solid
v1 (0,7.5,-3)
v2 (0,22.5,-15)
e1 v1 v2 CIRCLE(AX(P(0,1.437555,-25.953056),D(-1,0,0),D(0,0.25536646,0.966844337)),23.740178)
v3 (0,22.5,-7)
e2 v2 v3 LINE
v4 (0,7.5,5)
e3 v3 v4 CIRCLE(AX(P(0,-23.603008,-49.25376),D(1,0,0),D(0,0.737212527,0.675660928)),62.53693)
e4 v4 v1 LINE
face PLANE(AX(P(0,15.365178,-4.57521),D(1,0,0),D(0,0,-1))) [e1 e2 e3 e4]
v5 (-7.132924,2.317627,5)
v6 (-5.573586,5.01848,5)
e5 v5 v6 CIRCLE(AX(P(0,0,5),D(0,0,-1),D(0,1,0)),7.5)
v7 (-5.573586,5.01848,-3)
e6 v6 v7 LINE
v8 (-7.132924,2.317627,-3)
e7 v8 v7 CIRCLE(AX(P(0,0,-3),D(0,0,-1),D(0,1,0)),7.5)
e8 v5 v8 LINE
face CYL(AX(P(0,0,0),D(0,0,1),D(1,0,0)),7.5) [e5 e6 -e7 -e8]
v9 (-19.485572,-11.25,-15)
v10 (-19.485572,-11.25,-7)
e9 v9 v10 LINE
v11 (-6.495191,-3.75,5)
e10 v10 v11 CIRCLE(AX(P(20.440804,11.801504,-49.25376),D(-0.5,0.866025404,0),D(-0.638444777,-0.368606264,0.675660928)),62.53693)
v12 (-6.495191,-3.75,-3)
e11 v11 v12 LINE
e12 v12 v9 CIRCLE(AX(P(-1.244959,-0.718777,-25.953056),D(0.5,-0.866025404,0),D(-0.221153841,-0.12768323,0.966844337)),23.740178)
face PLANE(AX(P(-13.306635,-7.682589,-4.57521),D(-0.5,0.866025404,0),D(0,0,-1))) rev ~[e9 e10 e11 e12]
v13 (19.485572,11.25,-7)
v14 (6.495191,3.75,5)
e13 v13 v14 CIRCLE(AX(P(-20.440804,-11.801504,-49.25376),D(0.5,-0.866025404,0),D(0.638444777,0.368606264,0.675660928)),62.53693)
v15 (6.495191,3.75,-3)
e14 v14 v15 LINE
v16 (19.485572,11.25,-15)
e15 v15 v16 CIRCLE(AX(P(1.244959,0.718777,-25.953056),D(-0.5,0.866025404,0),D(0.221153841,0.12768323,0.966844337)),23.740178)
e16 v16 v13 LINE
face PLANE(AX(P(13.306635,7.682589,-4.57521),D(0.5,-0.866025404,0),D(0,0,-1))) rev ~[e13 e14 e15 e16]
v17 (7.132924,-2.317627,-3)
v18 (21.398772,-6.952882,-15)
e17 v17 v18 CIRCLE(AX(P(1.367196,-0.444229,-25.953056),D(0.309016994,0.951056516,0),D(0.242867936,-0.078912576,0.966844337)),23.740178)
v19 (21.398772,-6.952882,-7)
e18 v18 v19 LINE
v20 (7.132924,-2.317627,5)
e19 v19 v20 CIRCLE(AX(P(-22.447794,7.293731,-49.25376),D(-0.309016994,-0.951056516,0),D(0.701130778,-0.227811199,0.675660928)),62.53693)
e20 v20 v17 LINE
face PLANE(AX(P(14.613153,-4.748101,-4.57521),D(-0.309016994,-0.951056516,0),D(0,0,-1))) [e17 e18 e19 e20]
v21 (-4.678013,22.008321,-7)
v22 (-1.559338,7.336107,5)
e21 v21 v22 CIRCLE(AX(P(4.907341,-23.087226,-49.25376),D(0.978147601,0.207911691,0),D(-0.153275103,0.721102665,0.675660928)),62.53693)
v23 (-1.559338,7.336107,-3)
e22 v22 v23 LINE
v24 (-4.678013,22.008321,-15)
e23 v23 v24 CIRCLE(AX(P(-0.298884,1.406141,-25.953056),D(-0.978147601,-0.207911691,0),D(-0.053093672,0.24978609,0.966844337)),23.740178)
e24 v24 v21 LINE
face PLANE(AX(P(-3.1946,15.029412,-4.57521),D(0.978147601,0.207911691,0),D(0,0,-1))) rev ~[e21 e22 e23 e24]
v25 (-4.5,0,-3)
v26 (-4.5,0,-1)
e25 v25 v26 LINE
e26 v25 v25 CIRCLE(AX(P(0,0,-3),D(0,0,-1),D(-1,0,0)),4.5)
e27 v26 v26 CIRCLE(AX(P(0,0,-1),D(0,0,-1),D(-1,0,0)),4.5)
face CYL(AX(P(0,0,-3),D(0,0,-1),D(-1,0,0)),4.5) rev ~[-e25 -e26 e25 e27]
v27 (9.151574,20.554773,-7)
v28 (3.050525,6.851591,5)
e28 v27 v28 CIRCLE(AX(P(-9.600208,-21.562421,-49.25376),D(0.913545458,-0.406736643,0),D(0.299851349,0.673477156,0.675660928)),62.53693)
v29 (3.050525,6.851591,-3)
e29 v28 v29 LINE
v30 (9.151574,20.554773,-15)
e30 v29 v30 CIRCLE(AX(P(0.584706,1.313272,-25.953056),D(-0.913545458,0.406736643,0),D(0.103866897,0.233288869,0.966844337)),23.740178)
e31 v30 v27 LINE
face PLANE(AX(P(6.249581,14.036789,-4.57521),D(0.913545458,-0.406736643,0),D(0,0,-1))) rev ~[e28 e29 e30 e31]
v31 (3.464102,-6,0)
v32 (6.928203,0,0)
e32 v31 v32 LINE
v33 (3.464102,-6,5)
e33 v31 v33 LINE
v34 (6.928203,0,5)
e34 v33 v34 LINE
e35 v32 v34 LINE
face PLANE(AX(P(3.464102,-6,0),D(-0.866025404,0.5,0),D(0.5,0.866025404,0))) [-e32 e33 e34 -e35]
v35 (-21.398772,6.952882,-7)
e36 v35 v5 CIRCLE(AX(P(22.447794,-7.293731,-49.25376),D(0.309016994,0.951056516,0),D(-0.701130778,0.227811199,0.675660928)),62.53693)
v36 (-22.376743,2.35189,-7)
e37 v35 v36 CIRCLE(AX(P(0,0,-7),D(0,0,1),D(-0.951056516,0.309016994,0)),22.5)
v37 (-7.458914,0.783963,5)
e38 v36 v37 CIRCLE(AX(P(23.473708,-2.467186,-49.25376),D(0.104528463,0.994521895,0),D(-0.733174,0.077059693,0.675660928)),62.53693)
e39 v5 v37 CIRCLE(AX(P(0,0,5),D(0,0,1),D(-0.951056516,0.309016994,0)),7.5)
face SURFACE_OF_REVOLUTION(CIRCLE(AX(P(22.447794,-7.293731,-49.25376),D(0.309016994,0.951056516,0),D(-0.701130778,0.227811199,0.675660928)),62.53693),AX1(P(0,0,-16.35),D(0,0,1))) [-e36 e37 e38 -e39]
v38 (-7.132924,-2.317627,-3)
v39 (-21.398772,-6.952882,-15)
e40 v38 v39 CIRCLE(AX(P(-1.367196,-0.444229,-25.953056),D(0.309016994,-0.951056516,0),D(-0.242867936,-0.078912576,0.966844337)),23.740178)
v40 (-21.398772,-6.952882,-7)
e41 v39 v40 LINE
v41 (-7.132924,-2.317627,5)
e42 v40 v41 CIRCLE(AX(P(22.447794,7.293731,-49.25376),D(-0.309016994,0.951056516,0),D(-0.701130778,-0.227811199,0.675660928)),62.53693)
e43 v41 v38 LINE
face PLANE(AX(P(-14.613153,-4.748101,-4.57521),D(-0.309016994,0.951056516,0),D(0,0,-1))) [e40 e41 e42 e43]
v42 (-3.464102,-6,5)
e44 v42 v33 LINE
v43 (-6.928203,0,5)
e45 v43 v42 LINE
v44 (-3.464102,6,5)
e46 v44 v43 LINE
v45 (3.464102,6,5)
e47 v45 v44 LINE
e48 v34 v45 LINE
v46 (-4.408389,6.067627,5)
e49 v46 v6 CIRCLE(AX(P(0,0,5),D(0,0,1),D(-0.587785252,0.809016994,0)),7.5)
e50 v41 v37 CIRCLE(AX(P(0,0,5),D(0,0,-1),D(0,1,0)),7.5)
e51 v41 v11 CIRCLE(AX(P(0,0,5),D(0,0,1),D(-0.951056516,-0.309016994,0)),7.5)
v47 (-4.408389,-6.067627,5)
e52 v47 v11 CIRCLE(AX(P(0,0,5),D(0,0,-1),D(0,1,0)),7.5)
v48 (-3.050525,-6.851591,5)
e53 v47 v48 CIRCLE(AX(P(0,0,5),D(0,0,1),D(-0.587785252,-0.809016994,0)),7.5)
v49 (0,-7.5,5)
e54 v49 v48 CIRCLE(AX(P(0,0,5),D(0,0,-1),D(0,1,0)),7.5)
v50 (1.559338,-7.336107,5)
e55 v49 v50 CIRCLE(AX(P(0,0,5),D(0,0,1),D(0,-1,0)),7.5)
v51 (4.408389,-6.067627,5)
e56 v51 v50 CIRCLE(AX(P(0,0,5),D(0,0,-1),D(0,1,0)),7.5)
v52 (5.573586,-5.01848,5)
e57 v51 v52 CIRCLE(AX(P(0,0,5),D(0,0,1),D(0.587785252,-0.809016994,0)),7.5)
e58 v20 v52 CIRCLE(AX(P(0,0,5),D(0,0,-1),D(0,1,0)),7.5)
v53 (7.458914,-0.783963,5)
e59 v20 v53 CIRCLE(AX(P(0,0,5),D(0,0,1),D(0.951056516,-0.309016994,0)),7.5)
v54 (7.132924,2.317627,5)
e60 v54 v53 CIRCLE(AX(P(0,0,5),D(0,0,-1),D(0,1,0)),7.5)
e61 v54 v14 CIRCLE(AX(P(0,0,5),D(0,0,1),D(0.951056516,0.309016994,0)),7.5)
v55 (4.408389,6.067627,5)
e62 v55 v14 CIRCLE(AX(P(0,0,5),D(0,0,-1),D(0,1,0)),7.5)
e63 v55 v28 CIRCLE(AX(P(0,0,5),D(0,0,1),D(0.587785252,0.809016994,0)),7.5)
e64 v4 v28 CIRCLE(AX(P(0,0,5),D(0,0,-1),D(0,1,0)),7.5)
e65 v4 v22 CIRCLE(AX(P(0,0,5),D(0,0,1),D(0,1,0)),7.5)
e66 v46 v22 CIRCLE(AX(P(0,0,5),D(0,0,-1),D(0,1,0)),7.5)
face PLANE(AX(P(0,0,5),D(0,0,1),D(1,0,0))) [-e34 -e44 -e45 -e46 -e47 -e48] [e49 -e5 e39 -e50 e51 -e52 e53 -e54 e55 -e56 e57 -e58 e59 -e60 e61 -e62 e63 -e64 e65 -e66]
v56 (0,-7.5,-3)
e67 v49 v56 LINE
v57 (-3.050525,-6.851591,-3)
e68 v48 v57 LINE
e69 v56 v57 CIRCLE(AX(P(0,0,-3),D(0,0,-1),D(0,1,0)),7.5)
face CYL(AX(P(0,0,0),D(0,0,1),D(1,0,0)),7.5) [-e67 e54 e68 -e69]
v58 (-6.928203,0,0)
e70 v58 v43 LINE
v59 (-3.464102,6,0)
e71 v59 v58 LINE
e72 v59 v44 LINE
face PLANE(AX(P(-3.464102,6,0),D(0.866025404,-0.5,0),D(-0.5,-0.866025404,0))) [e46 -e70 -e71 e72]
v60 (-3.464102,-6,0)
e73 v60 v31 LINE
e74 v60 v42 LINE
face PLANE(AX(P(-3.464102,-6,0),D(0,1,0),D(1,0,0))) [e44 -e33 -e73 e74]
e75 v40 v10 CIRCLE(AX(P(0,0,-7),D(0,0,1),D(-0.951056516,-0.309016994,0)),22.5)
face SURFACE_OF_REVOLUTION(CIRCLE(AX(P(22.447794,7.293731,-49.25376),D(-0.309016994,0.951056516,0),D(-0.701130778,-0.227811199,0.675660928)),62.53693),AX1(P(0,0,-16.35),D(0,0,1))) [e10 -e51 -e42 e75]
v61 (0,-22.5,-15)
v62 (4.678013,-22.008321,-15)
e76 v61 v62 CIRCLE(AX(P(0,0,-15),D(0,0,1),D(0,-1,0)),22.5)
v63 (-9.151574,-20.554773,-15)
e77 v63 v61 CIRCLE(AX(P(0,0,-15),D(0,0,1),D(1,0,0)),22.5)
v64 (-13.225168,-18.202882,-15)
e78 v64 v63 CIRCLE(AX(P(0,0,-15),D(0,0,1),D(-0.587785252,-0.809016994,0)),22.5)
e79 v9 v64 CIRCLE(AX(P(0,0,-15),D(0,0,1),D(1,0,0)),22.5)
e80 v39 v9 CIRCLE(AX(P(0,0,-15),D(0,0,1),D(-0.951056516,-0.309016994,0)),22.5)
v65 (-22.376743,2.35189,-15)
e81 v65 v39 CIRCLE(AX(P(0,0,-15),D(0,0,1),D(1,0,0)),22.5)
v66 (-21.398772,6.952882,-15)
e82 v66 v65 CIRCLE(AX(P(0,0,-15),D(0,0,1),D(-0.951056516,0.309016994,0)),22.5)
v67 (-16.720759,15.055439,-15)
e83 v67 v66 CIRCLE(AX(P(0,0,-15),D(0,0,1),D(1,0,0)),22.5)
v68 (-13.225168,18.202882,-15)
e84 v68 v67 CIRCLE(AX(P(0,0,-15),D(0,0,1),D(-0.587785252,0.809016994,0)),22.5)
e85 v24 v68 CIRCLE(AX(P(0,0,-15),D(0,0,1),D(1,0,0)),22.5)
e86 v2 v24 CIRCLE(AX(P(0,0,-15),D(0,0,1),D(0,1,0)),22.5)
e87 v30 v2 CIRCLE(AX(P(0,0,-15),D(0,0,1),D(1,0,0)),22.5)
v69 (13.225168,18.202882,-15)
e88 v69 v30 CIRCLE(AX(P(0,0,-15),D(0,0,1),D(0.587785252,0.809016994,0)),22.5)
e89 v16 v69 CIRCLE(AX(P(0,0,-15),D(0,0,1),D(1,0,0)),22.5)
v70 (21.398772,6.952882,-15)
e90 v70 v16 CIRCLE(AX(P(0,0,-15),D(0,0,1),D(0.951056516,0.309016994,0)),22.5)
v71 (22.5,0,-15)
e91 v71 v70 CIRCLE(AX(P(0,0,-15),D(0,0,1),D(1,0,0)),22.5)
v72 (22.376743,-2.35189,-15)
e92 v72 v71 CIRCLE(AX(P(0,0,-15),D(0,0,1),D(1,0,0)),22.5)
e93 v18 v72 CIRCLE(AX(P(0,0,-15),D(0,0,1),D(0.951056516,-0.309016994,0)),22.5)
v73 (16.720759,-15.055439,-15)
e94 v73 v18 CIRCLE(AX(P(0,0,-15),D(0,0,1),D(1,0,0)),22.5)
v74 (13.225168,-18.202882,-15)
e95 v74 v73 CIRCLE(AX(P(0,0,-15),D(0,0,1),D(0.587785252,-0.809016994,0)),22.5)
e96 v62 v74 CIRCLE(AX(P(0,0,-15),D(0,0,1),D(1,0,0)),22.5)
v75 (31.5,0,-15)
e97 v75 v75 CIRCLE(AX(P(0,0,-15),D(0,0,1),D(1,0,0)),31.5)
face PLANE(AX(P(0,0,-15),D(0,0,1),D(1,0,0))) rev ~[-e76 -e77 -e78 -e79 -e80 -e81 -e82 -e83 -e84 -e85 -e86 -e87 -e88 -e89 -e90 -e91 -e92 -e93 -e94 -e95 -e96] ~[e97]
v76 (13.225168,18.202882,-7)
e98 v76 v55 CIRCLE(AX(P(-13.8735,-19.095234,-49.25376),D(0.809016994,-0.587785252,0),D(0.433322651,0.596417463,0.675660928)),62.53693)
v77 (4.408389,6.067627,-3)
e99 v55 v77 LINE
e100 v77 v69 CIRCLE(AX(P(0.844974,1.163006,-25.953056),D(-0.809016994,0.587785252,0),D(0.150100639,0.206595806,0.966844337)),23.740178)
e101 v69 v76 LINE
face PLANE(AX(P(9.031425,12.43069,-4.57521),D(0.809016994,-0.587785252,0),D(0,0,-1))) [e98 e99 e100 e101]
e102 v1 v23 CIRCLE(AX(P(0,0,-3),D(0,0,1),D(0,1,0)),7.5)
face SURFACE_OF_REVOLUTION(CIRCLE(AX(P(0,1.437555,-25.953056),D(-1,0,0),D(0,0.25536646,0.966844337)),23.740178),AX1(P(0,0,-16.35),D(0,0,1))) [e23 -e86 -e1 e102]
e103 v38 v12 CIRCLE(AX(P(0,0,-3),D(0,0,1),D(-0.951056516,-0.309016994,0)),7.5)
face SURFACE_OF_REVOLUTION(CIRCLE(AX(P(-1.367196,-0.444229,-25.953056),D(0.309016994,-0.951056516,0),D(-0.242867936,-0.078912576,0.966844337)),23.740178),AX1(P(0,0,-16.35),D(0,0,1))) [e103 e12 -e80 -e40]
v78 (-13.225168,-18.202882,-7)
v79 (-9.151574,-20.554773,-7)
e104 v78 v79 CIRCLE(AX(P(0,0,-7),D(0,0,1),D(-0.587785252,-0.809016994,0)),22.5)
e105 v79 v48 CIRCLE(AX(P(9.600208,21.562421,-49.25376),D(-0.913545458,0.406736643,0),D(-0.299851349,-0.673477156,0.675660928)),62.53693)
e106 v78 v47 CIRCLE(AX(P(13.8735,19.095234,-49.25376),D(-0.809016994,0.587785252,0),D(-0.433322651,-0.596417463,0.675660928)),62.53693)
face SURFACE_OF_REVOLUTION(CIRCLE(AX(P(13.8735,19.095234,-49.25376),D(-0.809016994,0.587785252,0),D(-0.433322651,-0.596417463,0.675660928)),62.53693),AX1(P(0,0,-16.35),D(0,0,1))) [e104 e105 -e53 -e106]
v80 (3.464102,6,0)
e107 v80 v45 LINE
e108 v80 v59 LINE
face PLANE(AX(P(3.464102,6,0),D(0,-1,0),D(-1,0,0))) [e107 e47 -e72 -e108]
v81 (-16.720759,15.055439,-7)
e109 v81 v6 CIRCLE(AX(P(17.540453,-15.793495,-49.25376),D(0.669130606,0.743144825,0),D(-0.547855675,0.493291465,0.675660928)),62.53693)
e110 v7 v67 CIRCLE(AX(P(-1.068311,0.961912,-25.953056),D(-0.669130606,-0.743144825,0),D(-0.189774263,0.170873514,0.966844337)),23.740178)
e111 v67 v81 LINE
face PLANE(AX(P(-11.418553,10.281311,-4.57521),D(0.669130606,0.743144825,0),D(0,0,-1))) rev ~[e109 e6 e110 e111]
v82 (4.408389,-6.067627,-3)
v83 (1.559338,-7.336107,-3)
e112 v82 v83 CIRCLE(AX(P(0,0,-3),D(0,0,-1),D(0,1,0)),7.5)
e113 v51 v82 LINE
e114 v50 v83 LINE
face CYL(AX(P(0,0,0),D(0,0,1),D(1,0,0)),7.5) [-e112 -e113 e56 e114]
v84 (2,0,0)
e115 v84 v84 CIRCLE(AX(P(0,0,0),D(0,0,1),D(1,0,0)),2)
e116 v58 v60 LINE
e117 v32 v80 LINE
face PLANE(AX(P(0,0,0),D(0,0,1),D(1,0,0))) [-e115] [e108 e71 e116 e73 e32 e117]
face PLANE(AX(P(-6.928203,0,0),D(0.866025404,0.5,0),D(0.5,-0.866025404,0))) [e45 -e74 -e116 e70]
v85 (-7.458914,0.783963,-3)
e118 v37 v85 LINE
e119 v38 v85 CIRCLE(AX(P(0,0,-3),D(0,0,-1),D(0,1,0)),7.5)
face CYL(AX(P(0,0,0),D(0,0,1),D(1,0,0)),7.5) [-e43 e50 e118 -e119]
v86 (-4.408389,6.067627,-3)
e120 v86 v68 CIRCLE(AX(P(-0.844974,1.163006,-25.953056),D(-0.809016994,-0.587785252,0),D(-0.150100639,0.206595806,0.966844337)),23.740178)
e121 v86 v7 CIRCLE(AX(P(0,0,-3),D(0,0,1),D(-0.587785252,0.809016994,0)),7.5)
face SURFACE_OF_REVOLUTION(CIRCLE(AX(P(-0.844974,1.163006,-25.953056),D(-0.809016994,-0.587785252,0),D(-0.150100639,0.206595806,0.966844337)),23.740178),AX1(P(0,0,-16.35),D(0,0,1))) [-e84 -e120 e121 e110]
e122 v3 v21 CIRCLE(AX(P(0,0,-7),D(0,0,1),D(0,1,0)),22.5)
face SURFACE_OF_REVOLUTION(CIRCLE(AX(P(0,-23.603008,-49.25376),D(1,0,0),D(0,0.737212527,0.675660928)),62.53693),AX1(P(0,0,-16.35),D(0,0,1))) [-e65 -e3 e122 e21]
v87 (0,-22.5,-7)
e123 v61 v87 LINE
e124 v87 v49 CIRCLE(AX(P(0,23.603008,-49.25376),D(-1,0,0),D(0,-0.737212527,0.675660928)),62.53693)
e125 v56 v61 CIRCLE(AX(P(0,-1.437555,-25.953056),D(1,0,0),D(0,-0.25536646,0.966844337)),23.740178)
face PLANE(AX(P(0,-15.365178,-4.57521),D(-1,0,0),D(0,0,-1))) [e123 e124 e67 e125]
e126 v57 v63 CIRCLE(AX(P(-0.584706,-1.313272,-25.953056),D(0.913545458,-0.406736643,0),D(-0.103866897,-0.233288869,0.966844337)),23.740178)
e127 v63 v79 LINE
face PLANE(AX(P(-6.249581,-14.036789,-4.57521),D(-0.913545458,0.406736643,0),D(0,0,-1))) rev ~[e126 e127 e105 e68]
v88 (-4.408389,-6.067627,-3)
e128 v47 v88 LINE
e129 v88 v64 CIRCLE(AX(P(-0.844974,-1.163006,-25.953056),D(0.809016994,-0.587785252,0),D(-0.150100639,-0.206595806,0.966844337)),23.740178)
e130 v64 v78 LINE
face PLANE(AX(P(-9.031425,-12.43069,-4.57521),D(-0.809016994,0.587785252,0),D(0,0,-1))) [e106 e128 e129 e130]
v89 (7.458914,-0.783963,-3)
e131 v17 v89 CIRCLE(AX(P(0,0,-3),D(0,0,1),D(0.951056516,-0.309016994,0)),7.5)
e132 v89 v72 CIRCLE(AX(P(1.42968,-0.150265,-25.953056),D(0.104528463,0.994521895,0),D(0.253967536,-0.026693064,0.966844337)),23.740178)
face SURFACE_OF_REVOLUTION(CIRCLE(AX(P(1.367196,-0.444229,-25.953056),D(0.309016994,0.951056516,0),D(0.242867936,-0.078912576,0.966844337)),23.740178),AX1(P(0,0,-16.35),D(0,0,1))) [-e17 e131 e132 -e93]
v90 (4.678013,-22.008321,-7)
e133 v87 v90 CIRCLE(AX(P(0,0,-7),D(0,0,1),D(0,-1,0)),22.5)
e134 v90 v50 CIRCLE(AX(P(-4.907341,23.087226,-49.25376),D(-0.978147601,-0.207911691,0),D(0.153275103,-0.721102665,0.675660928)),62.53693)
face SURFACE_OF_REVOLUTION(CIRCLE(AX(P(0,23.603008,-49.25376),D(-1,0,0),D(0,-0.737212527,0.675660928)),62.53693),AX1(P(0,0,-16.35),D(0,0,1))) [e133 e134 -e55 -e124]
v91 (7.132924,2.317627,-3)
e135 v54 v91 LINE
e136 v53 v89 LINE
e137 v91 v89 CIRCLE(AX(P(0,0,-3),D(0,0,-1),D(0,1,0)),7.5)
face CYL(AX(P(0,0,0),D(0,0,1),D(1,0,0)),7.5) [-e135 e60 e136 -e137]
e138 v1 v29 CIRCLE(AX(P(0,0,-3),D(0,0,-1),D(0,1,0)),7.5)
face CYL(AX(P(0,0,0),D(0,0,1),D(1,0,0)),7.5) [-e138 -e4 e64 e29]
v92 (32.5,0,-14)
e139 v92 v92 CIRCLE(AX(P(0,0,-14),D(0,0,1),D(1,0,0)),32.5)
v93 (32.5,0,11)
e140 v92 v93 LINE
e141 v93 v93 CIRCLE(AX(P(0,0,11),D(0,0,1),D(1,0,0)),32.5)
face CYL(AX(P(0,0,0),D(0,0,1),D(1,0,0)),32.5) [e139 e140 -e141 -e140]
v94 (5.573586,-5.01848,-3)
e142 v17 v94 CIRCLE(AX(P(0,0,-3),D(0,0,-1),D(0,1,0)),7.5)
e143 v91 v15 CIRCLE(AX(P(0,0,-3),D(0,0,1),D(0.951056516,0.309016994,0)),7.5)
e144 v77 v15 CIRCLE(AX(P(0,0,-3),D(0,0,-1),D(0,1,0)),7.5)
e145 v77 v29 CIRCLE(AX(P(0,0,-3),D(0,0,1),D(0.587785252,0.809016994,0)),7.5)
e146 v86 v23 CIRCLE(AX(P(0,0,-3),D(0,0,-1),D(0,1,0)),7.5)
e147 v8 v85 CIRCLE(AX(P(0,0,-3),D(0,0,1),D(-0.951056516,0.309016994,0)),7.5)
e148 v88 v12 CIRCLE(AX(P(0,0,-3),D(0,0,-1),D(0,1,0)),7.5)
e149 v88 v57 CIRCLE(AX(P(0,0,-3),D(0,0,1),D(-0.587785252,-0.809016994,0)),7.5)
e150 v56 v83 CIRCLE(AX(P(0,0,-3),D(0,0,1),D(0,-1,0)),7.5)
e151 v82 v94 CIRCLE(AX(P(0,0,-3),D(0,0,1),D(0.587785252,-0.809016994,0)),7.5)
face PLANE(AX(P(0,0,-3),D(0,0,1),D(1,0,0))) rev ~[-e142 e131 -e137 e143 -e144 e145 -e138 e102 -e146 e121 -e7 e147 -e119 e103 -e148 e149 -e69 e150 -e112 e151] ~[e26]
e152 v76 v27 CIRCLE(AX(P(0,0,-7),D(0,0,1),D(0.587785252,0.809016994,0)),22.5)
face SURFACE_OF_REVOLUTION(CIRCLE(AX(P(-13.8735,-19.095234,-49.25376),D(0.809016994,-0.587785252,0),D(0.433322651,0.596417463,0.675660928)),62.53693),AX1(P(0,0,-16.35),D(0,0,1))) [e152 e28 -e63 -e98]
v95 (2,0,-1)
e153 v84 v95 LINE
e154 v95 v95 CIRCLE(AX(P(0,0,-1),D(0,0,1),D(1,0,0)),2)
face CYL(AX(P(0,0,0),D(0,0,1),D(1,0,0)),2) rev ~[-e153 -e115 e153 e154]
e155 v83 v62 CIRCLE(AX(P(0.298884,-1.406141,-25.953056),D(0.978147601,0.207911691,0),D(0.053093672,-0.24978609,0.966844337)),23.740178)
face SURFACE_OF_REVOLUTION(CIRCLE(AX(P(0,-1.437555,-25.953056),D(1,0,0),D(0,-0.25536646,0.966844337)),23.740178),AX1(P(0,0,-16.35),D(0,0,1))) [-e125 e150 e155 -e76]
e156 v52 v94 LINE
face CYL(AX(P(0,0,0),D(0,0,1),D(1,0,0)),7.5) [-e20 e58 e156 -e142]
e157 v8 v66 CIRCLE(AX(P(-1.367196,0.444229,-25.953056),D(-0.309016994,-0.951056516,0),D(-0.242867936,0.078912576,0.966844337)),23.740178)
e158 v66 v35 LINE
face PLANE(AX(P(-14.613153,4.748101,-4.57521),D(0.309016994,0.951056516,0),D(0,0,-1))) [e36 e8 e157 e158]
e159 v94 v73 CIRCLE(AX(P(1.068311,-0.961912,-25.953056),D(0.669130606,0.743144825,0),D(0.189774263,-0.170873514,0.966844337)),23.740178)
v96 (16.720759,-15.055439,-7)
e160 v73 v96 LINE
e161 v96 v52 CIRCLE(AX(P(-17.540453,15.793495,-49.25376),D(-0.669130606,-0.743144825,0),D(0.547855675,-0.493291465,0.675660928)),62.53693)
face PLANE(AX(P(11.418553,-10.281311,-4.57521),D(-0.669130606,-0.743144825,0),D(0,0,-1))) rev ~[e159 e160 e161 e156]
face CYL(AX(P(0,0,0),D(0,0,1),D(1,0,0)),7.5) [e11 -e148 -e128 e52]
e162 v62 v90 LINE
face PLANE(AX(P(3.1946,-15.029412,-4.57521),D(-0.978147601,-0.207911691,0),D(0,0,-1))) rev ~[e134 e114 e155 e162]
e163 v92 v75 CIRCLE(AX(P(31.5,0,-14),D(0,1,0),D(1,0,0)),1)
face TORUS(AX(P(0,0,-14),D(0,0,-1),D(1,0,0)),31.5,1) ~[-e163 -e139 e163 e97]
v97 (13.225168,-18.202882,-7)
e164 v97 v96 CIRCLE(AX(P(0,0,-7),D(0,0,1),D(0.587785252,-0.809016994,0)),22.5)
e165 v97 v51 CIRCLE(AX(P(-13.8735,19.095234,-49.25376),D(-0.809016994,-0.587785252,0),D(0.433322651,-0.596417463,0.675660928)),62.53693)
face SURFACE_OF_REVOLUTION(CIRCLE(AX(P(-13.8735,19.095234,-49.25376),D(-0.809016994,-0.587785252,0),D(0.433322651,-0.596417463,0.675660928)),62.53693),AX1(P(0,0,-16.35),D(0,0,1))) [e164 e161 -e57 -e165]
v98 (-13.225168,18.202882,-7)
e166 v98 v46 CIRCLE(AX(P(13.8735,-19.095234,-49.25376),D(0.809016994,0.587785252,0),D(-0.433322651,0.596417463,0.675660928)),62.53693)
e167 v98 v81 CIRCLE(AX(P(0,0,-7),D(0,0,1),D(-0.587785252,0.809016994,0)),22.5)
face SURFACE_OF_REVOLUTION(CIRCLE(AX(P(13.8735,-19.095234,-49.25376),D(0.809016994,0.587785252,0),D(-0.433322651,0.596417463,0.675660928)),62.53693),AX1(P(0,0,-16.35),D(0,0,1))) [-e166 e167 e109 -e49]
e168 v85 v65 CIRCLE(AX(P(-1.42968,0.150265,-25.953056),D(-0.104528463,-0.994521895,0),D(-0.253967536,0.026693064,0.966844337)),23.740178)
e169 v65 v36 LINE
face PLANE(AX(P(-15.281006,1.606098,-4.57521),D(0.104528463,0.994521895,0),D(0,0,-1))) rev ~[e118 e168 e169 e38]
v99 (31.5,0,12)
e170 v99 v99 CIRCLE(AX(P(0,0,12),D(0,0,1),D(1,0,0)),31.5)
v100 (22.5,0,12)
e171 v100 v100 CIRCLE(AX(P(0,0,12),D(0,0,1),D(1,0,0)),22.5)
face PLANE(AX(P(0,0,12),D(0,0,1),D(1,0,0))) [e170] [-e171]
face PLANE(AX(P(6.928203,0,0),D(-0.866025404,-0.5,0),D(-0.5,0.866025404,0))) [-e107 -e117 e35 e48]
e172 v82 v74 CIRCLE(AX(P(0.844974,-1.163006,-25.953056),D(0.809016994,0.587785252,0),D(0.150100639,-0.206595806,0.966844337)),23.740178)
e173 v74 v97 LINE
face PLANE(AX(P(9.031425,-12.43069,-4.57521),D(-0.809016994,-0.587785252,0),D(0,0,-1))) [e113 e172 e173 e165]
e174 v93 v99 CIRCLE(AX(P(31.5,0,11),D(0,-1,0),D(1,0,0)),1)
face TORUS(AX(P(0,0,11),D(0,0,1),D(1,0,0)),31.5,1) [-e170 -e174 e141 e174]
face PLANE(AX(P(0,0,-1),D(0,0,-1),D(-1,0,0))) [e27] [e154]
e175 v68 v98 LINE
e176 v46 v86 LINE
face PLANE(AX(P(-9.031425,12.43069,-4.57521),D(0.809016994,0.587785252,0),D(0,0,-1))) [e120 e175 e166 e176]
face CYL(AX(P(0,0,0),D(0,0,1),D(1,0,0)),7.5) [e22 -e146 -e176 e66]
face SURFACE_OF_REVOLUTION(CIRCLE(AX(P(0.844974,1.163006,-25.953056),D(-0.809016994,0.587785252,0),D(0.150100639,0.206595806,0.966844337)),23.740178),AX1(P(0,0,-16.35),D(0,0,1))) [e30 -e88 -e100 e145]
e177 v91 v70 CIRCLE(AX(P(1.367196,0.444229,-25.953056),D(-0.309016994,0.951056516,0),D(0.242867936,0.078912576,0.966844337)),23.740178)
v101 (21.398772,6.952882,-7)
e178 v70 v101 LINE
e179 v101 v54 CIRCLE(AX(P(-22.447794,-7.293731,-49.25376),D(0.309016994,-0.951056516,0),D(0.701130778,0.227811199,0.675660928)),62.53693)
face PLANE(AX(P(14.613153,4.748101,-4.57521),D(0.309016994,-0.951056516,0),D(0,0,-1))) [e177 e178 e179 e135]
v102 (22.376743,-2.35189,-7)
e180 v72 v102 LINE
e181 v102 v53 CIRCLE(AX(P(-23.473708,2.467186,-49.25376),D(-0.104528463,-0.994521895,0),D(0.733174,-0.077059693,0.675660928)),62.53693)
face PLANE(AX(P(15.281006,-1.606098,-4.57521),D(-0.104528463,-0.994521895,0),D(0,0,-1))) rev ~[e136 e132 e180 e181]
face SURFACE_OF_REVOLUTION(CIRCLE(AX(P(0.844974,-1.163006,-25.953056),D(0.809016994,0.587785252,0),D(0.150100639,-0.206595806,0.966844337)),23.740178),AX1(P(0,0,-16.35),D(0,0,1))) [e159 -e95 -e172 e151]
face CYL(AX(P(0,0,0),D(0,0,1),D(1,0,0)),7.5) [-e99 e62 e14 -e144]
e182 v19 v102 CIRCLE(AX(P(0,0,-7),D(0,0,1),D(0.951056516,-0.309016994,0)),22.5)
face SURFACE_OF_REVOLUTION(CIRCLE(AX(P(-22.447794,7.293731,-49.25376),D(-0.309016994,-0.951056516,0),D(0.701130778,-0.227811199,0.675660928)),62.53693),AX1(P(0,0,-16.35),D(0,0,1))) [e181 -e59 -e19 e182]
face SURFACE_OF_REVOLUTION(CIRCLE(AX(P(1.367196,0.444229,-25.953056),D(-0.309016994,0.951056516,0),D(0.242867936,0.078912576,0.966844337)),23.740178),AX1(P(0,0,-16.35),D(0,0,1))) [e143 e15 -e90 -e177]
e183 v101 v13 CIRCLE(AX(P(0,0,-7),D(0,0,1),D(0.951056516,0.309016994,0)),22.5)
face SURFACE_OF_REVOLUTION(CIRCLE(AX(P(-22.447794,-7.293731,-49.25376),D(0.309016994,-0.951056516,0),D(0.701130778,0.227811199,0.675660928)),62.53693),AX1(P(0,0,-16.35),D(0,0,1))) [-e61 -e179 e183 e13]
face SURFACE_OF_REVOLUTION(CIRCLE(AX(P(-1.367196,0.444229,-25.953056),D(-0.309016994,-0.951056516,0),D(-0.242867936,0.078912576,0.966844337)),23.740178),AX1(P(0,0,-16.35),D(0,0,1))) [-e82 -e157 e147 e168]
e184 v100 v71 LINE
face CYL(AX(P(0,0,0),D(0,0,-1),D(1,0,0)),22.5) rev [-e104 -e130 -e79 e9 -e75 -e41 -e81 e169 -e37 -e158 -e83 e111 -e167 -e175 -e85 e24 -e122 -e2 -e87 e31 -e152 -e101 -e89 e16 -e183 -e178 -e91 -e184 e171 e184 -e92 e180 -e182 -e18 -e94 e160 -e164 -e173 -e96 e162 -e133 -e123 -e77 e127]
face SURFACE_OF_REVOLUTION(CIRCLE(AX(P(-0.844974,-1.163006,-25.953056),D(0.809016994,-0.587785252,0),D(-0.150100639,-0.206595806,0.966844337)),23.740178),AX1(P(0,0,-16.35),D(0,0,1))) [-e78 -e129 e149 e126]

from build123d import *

# Parameters (mm, degrees)
SKETCH_1_R               = 7.5
EXTRUDE_1_DEPTH          = 5
SKETCH_2_R               = 7.5
SKETCH_2_R_2             = 2
EXTRUDE_2_DEPTH          = 3
SKETCH_3_R               = 32.5
SKETCH_3_R_2             = 22.5
EXTRUDE_3_DEPTH          = 12
EXTRUDE_3_DEPTH_BACK     = 15
REVOLVE_1_ANGLE          = 12
PATTERN_CIRCULAR_1_COUNT = 10
SKETCH_5_R               = 4.5
CUT_EXTRUDE_1_DEPTH      = 2
FILLET_1_R               = 1


with BuildPart() as part:
    # 草图1 → 凸台-拉伸1 (new body)
    with BuildSketch(Plane.XY):
        Circle(SKETCH_1_R)
        Polygon((-6.92820323, 0), (-3.464101615, -6), (3.464101615, -6), (6.92820323, 0), (3.464101615, 6), (-3.464101615, 6), align=None, mode=Mode.SUBTRACT)
    extrude(amount=EXTRUDE_1_DEPTH)

    # 草图2 → 凸台-拉伸2 (add)
    with BuildSketch(Plane.XY):
        Circle(SKETCH_2_R)
        Circle(SKETCH_2_R_2, mode=Mode.SUBTRACT)
    extrude(amount=-EXTRUDE_2_DEPTH)



with BuildPart() as body_2:
    # 草图3 → 凸台-拉伸3 (new body, two sides)
    with BuildSketch(Plane.XY) as extrude_3_sk:
        Circle(SKETCH_3_R)
        Circle(SKETCH_3_R_2, mode=Mode.SUBTRACT)
    extrude(amount=EXTRUDE_3_DEPTH)
    extrude(extrude_3_sk.sketch, amount=-EXTRUDE_3_DEPTH_BACK)


with BuildPart() as part_1:
    add(part.part)

    add(body_2.part)  # 旋转1 merges body 2
    # 草图4 → 旋转1 (revolve)
    with BuildSketch(Plane(origin=(0, 0, 0), x_dir=(0, 0, -1), z_dir=(1, 0, 0))):
        with BuildLine():
            Line((-5, 7.5), (3, 7.5))
            ThreePointArc((3, 7.5), (7.415092079, 16.267926336), (15, 22.5))
            Line((15, 22.5), (7, 22.5))
            ThreePointArc((7, 22.5), (0.420622129, 15.463502297), (-5, 7.5))
        make_face()
    revolve_1 = revolve(axis=Axis((0, 0, -16.35), (0, 0, 1)), revolution_arc=REVOLVE_1_ANGLE)

    # 阵列(圆周)1: 旋转1 ×10 about axis
    pattern_circular_1_axis = Axis((0, 0, 0), (0, 0, 1))
    for i in range(1, PATTERN_CIRCULAR_1_COUNT):
        add(revolve_1.rotate(pattern_circular_1_axis, i * 360 / PATTERN_CIRCULAR_1_COUNT))

    # 草图5 → 切除-拉伸1 (cut)
    with BuildSketch(Plane(origin=(0, 0, -3), x_dir=(-1, 0, 0), z_dir=(0, 0, -1))):
        Circle(SKETCH_5_R)
    extrude(amount=-CUT_EXTRUDE_1_DEPTH, mode=Mode.SUBTRACT)

    # 圆角1
    fillet_1_edges = [part_1.edges().sort_by_distance(p)[0] for p in [
        (-32.5, 0, -15),
        (-32.5, 0, 12),
    ]]
    fillet(fillet_1_edges, radius=FILLET_1_R)


solid = part_1.part
